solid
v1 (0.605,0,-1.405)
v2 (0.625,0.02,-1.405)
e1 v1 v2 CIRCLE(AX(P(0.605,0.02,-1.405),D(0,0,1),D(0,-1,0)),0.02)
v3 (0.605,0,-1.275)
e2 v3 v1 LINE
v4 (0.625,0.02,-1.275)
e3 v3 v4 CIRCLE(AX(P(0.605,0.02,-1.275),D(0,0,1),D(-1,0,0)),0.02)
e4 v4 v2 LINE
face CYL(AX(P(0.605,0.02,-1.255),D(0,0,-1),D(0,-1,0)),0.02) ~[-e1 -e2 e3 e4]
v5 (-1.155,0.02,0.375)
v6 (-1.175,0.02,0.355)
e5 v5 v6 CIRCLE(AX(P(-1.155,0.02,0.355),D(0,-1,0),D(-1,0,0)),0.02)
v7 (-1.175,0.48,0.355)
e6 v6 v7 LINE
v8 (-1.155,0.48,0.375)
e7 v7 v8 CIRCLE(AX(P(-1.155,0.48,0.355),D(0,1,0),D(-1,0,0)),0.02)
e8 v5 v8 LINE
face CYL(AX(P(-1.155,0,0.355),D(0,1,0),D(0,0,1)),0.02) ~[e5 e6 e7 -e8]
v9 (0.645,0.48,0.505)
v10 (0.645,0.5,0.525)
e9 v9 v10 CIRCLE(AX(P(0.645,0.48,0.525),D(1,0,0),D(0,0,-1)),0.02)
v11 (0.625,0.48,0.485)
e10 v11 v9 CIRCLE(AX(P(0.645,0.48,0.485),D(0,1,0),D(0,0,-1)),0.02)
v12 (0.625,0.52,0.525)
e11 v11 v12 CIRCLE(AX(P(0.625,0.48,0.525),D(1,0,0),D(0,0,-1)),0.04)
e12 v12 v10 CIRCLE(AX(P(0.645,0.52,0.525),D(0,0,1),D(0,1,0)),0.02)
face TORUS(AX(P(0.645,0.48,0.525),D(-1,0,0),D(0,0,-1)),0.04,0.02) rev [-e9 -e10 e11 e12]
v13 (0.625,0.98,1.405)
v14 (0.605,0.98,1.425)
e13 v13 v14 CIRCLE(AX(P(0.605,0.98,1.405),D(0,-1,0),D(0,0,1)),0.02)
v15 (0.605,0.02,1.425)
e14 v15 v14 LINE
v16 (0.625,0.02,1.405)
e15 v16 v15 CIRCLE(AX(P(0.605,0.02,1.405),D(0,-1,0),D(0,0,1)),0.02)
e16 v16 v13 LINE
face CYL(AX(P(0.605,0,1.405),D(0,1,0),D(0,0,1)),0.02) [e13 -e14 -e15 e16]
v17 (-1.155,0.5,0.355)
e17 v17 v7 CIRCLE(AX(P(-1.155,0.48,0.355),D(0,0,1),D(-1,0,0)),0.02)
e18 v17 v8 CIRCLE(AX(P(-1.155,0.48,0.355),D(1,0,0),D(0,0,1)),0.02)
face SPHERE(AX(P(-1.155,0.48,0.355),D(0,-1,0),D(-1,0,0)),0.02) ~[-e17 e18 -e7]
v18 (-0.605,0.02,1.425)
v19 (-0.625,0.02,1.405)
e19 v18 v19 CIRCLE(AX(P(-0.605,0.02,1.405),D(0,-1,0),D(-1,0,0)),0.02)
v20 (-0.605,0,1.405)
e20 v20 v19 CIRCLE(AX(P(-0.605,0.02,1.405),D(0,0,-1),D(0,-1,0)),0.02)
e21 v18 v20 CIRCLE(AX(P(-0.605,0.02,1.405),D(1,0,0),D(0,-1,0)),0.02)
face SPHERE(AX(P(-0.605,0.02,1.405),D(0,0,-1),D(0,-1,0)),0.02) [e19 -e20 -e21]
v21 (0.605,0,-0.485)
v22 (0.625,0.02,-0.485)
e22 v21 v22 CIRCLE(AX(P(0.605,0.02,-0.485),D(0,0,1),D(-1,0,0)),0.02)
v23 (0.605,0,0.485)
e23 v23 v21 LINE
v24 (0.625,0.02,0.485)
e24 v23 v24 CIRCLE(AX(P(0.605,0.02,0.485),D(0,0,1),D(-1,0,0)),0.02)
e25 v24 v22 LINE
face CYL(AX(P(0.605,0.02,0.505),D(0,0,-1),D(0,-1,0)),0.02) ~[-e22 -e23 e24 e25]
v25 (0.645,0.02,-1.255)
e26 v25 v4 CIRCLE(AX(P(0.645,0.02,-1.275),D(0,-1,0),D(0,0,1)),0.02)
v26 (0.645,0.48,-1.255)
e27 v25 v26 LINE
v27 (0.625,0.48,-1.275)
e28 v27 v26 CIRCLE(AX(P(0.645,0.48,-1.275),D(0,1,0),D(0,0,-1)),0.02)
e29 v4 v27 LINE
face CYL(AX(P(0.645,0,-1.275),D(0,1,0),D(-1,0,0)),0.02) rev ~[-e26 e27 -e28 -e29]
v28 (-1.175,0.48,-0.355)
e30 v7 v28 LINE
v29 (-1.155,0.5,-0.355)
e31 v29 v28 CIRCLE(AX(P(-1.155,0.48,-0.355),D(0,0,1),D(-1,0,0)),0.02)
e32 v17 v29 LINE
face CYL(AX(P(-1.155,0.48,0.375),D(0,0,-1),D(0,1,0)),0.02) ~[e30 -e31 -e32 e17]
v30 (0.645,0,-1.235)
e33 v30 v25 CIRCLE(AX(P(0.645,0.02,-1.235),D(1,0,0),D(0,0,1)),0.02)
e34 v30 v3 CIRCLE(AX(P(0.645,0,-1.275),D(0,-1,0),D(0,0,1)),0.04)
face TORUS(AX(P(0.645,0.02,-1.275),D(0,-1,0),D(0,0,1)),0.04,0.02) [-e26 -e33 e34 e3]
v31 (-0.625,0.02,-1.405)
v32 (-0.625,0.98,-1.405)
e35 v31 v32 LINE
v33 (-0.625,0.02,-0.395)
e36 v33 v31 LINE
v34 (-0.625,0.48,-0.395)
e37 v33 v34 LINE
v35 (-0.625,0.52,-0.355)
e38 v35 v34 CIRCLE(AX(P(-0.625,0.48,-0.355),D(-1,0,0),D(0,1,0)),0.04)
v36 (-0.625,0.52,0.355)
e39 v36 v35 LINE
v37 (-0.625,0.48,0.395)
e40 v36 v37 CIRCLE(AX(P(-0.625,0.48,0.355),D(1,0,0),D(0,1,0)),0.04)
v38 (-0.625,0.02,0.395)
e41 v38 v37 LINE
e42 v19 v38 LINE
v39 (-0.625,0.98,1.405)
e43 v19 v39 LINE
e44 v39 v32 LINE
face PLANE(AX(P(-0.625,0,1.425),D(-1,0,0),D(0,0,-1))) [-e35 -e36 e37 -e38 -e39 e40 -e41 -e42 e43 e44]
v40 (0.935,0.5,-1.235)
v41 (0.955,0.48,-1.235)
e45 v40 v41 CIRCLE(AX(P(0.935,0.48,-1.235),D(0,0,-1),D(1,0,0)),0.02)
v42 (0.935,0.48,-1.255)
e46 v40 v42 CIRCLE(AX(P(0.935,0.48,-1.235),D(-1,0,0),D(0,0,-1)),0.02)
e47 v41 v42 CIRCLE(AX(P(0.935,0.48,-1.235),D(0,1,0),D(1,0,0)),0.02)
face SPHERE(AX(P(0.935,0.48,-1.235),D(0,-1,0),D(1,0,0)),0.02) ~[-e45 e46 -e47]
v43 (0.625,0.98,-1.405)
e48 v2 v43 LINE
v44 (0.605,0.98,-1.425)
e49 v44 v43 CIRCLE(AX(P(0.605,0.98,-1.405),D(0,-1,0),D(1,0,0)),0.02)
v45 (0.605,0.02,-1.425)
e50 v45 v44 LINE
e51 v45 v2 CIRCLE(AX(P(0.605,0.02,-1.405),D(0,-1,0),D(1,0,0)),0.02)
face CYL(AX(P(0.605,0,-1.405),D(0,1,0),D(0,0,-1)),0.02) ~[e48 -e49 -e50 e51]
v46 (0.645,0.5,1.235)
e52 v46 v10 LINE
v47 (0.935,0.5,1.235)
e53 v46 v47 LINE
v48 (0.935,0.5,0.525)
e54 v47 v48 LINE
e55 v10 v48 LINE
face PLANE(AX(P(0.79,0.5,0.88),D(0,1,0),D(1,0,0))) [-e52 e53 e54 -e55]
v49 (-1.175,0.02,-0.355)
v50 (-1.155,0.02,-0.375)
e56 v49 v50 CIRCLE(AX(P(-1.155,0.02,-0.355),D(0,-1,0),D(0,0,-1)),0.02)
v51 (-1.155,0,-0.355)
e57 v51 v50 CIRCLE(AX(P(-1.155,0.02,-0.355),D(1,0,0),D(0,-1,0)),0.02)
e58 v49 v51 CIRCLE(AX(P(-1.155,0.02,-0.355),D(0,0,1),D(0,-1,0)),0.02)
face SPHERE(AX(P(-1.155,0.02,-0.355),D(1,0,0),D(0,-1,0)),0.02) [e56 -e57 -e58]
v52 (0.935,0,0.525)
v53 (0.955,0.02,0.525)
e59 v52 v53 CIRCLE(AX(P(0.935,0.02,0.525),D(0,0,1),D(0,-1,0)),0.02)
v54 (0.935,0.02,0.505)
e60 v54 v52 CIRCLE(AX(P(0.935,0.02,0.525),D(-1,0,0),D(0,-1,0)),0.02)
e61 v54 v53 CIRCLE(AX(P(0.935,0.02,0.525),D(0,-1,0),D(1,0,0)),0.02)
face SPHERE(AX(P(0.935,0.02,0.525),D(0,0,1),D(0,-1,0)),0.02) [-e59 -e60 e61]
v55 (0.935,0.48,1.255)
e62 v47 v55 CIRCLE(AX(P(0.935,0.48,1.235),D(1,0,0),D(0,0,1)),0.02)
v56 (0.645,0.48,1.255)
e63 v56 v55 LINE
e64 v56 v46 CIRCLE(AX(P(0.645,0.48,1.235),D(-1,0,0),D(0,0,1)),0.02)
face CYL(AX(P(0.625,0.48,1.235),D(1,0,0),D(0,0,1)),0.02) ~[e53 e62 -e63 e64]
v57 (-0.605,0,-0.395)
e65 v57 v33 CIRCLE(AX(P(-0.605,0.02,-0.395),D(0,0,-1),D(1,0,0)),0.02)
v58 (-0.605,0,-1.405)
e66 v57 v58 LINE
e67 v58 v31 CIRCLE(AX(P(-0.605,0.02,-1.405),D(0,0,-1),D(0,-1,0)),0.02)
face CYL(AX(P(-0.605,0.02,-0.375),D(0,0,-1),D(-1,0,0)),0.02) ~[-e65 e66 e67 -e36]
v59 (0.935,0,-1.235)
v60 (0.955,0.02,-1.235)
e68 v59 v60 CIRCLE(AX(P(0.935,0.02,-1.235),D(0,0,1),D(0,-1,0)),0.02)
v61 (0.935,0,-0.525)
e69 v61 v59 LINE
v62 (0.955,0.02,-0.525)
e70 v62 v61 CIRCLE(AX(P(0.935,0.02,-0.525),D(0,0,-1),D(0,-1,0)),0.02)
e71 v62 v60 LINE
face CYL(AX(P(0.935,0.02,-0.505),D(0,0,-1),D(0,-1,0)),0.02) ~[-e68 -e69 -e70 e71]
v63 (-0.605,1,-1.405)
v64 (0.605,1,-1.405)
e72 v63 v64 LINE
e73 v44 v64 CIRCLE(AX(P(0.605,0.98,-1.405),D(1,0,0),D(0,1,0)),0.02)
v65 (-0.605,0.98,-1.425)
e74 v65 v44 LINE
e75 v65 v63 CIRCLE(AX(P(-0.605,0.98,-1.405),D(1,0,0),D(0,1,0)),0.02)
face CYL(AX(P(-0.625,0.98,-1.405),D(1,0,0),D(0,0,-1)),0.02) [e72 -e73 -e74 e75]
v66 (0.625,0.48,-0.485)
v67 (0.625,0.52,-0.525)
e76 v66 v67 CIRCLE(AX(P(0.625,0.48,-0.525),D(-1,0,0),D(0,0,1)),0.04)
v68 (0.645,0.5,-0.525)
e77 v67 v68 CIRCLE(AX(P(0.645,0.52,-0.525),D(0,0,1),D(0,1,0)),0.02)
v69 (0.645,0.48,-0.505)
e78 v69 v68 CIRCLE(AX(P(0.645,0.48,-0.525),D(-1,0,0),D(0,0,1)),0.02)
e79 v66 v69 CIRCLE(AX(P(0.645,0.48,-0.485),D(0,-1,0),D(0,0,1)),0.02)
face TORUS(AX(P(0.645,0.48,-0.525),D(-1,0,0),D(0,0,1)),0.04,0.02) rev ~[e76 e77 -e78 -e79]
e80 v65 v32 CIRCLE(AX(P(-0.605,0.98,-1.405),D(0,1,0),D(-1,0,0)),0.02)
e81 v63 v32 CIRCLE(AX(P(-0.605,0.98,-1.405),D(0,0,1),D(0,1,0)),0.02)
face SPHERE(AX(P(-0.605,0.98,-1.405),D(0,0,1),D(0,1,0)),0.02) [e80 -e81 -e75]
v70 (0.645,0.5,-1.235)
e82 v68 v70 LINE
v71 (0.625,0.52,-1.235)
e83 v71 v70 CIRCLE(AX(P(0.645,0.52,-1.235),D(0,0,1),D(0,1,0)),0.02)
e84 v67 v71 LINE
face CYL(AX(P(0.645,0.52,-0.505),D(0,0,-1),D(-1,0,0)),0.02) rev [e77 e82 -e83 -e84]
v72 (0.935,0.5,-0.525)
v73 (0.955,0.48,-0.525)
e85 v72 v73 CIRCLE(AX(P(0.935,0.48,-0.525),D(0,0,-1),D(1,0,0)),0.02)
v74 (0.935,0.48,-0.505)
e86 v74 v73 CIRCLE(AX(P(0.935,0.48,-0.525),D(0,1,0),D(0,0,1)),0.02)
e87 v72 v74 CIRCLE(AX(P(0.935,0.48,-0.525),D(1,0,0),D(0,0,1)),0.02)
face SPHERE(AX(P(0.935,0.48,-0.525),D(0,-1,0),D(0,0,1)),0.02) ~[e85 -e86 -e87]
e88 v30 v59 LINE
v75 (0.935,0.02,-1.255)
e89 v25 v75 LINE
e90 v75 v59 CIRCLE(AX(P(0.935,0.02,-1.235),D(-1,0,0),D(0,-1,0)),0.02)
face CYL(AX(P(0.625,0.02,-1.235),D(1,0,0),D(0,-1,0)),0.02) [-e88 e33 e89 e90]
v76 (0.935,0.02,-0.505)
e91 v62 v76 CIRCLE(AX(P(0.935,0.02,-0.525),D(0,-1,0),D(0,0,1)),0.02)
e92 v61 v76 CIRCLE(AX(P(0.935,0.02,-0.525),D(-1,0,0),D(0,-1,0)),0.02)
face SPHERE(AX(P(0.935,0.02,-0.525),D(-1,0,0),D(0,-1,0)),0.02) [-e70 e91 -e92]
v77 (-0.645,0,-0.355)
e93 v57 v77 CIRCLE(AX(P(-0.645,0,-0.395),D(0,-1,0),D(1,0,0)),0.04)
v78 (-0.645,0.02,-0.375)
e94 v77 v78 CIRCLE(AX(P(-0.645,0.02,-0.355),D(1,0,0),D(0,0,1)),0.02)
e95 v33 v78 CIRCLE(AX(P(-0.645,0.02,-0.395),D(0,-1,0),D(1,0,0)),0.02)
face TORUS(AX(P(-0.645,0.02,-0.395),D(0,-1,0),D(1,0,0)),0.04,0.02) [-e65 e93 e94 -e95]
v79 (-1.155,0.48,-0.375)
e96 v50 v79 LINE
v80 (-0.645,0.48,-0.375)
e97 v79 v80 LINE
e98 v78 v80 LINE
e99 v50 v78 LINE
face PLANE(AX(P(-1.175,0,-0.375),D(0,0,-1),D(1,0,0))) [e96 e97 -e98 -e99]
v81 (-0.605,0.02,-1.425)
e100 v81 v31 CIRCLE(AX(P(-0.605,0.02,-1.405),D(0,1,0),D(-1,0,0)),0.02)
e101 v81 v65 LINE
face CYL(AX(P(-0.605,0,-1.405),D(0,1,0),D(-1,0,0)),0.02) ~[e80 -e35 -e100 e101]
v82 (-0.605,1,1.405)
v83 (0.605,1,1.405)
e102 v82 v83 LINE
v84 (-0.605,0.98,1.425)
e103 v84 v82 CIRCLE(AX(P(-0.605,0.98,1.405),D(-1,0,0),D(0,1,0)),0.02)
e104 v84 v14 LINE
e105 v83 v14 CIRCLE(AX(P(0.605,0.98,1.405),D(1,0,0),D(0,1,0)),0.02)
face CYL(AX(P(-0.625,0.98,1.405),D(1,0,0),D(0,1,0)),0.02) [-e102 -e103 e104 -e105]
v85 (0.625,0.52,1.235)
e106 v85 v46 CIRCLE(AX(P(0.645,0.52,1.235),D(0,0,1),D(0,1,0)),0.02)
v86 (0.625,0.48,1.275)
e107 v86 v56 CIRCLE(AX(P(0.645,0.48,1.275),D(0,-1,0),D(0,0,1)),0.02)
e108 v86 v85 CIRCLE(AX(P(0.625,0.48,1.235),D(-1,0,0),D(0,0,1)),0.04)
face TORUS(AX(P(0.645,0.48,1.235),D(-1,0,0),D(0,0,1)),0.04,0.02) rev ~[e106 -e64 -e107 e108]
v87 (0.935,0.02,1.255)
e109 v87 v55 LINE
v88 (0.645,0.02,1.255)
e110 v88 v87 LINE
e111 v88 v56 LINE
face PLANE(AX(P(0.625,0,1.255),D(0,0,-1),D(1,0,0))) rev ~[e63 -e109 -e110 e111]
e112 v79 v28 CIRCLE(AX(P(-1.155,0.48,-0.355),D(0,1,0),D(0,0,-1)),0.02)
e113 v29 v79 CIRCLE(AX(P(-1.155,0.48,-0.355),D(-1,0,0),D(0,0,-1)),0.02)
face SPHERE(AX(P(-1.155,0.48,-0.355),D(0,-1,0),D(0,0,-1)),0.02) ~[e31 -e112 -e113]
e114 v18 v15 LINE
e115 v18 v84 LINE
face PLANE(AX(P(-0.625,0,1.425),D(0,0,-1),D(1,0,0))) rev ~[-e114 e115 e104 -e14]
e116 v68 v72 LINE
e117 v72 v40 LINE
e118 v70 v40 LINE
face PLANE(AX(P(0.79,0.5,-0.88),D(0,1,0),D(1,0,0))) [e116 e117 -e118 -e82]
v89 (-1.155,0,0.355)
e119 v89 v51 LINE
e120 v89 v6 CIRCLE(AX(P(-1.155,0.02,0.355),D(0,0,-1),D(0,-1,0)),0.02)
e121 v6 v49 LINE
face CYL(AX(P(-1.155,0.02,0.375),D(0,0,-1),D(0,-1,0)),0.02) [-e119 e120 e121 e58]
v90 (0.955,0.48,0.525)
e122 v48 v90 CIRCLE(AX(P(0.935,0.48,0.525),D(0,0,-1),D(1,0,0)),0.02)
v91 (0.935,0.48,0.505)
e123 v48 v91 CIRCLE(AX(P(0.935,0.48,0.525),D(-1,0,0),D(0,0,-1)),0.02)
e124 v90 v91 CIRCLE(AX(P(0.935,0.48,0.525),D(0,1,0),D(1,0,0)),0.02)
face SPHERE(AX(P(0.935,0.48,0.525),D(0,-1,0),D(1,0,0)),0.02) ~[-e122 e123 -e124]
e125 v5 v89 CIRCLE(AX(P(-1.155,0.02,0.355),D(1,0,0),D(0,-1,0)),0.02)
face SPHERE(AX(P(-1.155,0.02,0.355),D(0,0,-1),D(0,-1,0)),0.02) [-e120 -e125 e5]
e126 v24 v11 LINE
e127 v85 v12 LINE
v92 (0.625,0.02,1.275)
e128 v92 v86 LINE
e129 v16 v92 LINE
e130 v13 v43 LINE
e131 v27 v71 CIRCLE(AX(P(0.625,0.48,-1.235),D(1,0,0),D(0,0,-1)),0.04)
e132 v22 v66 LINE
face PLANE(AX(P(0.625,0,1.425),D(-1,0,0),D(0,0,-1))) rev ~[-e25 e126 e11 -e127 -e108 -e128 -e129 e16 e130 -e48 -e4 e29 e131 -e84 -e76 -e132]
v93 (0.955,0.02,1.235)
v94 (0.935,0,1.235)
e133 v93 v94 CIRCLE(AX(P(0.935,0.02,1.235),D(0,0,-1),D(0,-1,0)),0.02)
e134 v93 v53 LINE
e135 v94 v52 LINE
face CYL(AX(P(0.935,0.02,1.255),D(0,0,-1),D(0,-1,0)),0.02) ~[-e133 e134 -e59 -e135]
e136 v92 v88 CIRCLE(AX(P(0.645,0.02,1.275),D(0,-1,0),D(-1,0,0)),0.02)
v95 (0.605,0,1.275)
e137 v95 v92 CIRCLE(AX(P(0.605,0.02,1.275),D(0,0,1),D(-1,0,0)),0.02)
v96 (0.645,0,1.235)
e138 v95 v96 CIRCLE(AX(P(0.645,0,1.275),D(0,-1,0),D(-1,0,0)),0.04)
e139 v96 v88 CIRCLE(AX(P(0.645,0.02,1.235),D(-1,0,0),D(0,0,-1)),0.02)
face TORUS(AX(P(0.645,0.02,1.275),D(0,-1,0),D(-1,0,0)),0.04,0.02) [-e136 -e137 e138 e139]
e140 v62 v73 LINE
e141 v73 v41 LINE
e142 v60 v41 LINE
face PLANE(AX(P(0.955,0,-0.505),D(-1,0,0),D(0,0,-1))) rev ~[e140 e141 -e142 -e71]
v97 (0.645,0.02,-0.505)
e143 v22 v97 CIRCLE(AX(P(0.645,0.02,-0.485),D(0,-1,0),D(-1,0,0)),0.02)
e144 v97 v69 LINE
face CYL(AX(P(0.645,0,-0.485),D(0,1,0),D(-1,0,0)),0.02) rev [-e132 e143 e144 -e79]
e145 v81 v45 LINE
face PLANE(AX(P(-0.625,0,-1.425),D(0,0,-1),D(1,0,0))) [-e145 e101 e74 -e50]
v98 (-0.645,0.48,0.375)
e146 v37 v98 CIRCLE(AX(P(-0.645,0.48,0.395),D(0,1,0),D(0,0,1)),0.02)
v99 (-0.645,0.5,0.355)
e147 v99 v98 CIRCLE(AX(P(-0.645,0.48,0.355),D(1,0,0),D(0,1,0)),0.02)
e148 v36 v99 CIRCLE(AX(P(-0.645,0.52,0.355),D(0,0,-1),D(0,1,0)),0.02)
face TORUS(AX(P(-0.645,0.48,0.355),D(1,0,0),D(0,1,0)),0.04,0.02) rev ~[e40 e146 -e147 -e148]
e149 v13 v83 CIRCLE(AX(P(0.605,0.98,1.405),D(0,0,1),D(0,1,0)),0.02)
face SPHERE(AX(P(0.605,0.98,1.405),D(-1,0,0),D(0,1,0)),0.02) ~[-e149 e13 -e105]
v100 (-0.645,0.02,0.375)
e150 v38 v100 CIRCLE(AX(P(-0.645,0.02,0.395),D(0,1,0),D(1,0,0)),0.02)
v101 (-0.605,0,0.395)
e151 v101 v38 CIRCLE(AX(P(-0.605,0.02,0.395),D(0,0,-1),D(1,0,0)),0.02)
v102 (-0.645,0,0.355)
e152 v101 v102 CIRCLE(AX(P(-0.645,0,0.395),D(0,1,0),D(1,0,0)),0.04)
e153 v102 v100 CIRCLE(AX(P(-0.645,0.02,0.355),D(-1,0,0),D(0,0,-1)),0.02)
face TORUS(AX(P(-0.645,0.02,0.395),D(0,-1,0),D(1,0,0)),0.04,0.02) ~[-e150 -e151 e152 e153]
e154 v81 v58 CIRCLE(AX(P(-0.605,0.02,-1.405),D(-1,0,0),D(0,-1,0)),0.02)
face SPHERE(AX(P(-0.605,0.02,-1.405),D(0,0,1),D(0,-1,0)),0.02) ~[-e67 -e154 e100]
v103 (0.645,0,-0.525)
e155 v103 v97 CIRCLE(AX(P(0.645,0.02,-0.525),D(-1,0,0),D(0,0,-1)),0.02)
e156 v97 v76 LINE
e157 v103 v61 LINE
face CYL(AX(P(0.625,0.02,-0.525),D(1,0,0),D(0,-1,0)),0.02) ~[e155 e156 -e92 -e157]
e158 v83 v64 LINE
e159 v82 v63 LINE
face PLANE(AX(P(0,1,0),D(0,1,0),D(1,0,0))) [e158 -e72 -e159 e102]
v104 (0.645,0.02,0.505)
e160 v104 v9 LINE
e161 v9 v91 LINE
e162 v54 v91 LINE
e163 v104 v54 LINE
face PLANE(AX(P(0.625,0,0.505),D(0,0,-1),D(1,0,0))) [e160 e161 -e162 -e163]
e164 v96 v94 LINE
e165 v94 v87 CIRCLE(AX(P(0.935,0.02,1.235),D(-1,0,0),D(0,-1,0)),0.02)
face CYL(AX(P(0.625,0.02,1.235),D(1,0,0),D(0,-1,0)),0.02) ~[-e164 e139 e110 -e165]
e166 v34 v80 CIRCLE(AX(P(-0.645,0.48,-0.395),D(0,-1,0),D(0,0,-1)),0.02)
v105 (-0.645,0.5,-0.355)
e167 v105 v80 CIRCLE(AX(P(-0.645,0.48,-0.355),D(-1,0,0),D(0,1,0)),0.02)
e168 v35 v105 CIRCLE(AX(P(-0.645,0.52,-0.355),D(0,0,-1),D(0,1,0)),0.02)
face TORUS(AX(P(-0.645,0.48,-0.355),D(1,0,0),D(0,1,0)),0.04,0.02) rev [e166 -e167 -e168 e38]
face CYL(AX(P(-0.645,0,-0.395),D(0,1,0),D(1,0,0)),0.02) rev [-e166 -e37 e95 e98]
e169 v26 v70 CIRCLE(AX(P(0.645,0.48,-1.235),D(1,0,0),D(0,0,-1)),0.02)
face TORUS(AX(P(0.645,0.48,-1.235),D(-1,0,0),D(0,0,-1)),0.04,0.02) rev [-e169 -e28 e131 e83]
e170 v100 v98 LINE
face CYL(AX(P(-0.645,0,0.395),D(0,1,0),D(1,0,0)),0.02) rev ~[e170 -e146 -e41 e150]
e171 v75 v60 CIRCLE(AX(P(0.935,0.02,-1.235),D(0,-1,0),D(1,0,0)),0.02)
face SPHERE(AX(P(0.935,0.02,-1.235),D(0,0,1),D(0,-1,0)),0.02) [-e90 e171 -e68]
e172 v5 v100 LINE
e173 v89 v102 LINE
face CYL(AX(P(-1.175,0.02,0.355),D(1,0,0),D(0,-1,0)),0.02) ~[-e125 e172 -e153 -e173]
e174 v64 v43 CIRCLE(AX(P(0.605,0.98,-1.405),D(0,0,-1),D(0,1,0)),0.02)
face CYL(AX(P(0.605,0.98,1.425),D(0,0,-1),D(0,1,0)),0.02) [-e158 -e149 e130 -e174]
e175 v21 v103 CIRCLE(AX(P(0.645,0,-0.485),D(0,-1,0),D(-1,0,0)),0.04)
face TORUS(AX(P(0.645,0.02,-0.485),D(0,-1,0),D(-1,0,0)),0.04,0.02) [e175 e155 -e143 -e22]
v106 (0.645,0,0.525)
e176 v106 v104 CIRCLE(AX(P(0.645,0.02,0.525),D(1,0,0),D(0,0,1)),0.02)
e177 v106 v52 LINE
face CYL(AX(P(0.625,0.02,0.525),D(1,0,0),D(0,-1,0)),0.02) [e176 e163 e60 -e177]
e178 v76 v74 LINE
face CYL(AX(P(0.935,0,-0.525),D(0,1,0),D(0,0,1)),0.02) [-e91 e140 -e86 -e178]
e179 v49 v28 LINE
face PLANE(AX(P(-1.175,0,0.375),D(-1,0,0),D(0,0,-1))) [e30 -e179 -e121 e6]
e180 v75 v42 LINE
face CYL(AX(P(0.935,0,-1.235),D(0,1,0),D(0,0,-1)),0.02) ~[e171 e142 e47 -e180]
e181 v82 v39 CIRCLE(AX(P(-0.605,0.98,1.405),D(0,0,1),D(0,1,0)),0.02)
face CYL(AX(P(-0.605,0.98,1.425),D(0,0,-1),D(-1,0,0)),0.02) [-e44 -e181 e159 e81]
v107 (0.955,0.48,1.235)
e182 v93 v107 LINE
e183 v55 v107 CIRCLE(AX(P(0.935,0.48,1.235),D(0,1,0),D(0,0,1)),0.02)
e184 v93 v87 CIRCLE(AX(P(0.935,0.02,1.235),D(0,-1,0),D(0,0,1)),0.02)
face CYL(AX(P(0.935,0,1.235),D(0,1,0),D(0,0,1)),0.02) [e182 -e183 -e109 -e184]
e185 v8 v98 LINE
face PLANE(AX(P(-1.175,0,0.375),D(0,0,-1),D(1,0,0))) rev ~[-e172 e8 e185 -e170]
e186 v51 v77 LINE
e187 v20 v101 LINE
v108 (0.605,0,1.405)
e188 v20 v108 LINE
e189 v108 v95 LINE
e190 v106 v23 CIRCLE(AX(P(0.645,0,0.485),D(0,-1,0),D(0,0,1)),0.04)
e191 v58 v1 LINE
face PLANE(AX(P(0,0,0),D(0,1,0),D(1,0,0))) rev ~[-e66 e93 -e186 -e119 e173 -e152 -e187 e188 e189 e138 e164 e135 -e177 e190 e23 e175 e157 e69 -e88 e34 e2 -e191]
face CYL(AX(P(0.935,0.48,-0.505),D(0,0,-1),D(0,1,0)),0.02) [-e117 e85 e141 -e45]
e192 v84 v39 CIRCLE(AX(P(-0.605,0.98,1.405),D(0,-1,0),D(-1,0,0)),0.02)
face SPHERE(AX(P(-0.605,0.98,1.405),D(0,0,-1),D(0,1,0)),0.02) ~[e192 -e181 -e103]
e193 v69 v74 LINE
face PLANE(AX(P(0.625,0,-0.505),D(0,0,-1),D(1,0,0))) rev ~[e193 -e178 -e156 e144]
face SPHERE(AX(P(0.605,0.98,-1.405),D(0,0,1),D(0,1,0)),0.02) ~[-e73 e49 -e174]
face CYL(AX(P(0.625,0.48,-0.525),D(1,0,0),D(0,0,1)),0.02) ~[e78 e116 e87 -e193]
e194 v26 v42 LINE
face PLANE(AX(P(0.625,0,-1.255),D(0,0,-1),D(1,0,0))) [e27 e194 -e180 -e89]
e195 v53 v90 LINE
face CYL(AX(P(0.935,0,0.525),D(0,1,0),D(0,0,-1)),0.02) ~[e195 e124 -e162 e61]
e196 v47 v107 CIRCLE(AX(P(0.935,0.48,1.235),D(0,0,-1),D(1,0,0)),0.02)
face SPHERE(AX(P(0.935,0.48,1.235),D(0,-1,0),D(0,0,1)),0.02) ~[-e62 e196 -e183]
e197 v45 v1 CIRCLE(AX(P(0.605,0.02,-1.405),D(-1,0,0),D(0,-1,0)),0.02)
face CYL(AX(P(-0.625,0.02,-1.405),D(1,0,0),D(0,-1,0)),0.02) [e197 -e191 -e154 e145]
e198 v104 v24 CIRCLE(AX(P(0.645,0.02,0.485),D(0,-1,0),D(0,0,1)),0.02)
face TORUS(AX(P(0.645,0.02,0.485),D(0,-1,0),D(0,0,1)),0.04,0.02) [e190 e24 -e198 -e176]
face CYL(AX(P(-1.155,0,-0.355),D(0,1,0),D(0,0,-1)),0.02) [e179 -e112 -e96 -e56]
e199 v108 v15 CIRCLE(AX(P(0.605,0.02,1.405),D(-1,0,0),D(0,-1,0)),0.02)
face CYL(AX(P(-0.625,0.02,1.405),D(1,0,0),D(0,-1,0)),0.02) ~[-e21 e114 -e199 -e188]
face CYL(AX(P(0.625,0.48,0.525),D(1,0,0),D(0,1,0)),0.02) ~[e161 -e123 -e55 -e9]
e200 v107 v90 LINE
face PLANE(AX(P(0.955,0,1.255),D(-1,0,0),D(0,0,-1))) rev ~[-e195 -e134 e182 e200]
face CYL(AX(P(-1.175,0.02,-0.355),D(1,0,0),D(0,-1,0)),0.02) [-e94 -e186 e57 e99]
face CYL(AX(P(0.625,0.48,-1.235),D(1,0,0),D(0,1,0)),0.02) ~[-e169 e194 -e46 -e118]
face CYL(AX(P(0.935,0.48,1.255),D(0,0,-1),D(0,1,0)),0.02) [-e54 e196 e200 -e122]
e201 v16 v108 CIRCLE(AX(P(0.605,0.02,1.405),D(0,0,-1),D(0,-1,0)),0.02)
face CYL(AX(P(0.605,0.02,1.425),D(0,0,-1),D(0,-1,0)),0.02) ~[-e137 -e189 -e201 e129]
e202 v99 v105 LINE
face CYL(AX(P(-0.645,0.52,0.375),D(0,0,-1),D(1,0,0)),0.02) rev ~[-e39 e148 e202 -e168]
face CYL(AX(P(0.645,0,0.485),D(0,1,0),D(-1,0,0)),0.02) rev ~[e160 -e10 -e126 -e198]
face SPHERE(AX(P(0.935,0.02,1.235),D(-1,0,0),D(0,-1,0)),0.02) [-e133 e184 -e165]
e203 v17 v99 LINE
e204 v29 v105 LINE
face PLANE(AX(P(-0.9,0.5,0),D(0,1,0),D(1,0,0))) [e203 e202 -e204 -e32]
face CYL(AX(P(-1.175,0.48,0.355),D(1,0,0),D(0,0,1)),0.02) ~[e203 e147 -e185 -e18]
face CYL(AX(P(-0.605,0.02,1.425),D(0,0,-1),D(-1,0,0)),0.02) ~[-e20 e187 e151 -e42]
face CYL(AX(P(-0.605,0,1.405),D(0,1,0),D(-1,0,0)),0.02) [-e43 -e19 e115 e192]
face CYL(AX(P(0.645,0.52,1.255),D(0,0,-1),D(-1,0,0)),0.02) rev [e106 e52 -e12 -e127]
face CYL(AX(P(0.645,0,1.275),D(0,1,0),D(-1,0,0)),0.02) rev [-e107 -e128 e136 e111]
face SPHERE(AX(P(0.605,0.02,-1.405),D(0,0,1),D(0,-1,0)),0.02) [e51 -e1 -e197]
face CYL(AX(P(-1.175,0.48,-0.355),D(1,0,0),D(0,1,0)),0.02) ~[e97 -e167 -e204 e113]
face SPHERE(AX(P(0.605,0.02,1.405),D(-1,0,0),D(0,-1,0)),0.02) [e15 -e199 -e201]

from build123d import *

# Parameters (mm, degrees)
SKETCH1_W           = 1.25
SKETCH1_H           = 2.85
BOSS_EXTRUDE1_DEPTH = 1
SKETCH2_W           = 0.55
SKETCH2_H           = 0.75
SKETCH2_W_2         = 0.33
BOSS_EXTRUDE2_DEPTH = 0.5
FILLET1_R           = 0.02


with BuildPart() as part:
    # Sketch1 → Boss-Extrude1 (new body)
    with BuildSketch(Plane(origin=(0, 0, 0), x_dir=(1, 0, 0), z_dir=(0, 1, 0))):
        Rectangle(SKETCH1_W, SKETCH1_H)
    extrude(amount=BOSS_EXTRUDE1_DEPTH)

    # Sketch2 → Boss-Extrude2 (add)
    with BuildSketch(Plane(origin=(0, 0, 0), x_dir=(1, 0, 0), z_dir=(0, 1, 0))):
        with Locations((-0.9, 0)):
            Rectangle(SKETCH2_W, SKETCH2_H)
        with Locations((0.79, 0.88)):
            Rectangle(SKETCH2_W_2, SKETCH2_H)
        with Locations((0.79, -0.88)):
            Rectangle(SKETCH2_W_2, SKETCH2_H)
    extrude(amount=BOSS_EXTRUDE2_DEPTH)

    # Fillet1
    fillet1_edges = [part.edges().sort_by_distance(p)[0] for p in [
        (-0.625, 1, 0),
        (0, 1, 1.425),
        (0.625, 0, -1.34),
        (0.625, 0.25, -1.255),
        (0.79, 0, -0.505),
        (0.625, 0.25, -0.505),
        (0.955, 0, -0.88),
        (0.955, 0.25, -0.505),
        (0.79, 0, -1.255),
        (0.955, 0.25, -1.255),
        (0.625, 0.5, -0.88),
        (0.79, 0.5, -0.505),
        (0.955, 0.5, -0.88),
        (0.79, 0.5, -1.255),
        (-0.625, 0, 0.9),
        (-0.9, 0, -0.375),
        (-0.625, 0.25, -0.375),
        (-1.175, 0, 0),
        (-1.175, 0.25, -0.375),
        (-0.9, 0, 0.375),
        (-1.175, 0.25, 0.375),
        (-0.625, 0.25, 0.375),
        (-0.9, 0.5, -0.375),
        (-1.175, 0.5, 0),
        (-0.9, 0.5, 0.375),
        (-0.625, 0.5, 0),
        (0.625, 0, 0),
        (0.625, 0.25, 0.505),
        (0.79, 0, 1.255),
        (0.625, 0.25, 1.255),
        (0.955, 0, 0.88),
        (0.955, 0.25, 1.255),
        (0.79, 0, 0.505),
        (0.955, 0.25, 0.505),
        (0.625, 0.5, 0.88),
        (0.79, 0.5, 1.255),
        (0.955, 0.5, 0.88),
        (0.625, 1, 0),
        (0.79, 0.5, 0.505),
        (0, 0, 1.425),
        (-0.625, 0, -0.9),
        (0, 0, -1.425),
        (0.625, 0, 1.34),
        (0, 1, -1.425),
        (0.625, 0.5, 1.425),
        (-0.625, 0.5, 1.425),
        (-0.625, 0.5, -1.425),
        (0.625, 0.5, -1.425),
    ]]
    fillet(fillet1_edges, radius=FILLET1_R)


solid = part.part
